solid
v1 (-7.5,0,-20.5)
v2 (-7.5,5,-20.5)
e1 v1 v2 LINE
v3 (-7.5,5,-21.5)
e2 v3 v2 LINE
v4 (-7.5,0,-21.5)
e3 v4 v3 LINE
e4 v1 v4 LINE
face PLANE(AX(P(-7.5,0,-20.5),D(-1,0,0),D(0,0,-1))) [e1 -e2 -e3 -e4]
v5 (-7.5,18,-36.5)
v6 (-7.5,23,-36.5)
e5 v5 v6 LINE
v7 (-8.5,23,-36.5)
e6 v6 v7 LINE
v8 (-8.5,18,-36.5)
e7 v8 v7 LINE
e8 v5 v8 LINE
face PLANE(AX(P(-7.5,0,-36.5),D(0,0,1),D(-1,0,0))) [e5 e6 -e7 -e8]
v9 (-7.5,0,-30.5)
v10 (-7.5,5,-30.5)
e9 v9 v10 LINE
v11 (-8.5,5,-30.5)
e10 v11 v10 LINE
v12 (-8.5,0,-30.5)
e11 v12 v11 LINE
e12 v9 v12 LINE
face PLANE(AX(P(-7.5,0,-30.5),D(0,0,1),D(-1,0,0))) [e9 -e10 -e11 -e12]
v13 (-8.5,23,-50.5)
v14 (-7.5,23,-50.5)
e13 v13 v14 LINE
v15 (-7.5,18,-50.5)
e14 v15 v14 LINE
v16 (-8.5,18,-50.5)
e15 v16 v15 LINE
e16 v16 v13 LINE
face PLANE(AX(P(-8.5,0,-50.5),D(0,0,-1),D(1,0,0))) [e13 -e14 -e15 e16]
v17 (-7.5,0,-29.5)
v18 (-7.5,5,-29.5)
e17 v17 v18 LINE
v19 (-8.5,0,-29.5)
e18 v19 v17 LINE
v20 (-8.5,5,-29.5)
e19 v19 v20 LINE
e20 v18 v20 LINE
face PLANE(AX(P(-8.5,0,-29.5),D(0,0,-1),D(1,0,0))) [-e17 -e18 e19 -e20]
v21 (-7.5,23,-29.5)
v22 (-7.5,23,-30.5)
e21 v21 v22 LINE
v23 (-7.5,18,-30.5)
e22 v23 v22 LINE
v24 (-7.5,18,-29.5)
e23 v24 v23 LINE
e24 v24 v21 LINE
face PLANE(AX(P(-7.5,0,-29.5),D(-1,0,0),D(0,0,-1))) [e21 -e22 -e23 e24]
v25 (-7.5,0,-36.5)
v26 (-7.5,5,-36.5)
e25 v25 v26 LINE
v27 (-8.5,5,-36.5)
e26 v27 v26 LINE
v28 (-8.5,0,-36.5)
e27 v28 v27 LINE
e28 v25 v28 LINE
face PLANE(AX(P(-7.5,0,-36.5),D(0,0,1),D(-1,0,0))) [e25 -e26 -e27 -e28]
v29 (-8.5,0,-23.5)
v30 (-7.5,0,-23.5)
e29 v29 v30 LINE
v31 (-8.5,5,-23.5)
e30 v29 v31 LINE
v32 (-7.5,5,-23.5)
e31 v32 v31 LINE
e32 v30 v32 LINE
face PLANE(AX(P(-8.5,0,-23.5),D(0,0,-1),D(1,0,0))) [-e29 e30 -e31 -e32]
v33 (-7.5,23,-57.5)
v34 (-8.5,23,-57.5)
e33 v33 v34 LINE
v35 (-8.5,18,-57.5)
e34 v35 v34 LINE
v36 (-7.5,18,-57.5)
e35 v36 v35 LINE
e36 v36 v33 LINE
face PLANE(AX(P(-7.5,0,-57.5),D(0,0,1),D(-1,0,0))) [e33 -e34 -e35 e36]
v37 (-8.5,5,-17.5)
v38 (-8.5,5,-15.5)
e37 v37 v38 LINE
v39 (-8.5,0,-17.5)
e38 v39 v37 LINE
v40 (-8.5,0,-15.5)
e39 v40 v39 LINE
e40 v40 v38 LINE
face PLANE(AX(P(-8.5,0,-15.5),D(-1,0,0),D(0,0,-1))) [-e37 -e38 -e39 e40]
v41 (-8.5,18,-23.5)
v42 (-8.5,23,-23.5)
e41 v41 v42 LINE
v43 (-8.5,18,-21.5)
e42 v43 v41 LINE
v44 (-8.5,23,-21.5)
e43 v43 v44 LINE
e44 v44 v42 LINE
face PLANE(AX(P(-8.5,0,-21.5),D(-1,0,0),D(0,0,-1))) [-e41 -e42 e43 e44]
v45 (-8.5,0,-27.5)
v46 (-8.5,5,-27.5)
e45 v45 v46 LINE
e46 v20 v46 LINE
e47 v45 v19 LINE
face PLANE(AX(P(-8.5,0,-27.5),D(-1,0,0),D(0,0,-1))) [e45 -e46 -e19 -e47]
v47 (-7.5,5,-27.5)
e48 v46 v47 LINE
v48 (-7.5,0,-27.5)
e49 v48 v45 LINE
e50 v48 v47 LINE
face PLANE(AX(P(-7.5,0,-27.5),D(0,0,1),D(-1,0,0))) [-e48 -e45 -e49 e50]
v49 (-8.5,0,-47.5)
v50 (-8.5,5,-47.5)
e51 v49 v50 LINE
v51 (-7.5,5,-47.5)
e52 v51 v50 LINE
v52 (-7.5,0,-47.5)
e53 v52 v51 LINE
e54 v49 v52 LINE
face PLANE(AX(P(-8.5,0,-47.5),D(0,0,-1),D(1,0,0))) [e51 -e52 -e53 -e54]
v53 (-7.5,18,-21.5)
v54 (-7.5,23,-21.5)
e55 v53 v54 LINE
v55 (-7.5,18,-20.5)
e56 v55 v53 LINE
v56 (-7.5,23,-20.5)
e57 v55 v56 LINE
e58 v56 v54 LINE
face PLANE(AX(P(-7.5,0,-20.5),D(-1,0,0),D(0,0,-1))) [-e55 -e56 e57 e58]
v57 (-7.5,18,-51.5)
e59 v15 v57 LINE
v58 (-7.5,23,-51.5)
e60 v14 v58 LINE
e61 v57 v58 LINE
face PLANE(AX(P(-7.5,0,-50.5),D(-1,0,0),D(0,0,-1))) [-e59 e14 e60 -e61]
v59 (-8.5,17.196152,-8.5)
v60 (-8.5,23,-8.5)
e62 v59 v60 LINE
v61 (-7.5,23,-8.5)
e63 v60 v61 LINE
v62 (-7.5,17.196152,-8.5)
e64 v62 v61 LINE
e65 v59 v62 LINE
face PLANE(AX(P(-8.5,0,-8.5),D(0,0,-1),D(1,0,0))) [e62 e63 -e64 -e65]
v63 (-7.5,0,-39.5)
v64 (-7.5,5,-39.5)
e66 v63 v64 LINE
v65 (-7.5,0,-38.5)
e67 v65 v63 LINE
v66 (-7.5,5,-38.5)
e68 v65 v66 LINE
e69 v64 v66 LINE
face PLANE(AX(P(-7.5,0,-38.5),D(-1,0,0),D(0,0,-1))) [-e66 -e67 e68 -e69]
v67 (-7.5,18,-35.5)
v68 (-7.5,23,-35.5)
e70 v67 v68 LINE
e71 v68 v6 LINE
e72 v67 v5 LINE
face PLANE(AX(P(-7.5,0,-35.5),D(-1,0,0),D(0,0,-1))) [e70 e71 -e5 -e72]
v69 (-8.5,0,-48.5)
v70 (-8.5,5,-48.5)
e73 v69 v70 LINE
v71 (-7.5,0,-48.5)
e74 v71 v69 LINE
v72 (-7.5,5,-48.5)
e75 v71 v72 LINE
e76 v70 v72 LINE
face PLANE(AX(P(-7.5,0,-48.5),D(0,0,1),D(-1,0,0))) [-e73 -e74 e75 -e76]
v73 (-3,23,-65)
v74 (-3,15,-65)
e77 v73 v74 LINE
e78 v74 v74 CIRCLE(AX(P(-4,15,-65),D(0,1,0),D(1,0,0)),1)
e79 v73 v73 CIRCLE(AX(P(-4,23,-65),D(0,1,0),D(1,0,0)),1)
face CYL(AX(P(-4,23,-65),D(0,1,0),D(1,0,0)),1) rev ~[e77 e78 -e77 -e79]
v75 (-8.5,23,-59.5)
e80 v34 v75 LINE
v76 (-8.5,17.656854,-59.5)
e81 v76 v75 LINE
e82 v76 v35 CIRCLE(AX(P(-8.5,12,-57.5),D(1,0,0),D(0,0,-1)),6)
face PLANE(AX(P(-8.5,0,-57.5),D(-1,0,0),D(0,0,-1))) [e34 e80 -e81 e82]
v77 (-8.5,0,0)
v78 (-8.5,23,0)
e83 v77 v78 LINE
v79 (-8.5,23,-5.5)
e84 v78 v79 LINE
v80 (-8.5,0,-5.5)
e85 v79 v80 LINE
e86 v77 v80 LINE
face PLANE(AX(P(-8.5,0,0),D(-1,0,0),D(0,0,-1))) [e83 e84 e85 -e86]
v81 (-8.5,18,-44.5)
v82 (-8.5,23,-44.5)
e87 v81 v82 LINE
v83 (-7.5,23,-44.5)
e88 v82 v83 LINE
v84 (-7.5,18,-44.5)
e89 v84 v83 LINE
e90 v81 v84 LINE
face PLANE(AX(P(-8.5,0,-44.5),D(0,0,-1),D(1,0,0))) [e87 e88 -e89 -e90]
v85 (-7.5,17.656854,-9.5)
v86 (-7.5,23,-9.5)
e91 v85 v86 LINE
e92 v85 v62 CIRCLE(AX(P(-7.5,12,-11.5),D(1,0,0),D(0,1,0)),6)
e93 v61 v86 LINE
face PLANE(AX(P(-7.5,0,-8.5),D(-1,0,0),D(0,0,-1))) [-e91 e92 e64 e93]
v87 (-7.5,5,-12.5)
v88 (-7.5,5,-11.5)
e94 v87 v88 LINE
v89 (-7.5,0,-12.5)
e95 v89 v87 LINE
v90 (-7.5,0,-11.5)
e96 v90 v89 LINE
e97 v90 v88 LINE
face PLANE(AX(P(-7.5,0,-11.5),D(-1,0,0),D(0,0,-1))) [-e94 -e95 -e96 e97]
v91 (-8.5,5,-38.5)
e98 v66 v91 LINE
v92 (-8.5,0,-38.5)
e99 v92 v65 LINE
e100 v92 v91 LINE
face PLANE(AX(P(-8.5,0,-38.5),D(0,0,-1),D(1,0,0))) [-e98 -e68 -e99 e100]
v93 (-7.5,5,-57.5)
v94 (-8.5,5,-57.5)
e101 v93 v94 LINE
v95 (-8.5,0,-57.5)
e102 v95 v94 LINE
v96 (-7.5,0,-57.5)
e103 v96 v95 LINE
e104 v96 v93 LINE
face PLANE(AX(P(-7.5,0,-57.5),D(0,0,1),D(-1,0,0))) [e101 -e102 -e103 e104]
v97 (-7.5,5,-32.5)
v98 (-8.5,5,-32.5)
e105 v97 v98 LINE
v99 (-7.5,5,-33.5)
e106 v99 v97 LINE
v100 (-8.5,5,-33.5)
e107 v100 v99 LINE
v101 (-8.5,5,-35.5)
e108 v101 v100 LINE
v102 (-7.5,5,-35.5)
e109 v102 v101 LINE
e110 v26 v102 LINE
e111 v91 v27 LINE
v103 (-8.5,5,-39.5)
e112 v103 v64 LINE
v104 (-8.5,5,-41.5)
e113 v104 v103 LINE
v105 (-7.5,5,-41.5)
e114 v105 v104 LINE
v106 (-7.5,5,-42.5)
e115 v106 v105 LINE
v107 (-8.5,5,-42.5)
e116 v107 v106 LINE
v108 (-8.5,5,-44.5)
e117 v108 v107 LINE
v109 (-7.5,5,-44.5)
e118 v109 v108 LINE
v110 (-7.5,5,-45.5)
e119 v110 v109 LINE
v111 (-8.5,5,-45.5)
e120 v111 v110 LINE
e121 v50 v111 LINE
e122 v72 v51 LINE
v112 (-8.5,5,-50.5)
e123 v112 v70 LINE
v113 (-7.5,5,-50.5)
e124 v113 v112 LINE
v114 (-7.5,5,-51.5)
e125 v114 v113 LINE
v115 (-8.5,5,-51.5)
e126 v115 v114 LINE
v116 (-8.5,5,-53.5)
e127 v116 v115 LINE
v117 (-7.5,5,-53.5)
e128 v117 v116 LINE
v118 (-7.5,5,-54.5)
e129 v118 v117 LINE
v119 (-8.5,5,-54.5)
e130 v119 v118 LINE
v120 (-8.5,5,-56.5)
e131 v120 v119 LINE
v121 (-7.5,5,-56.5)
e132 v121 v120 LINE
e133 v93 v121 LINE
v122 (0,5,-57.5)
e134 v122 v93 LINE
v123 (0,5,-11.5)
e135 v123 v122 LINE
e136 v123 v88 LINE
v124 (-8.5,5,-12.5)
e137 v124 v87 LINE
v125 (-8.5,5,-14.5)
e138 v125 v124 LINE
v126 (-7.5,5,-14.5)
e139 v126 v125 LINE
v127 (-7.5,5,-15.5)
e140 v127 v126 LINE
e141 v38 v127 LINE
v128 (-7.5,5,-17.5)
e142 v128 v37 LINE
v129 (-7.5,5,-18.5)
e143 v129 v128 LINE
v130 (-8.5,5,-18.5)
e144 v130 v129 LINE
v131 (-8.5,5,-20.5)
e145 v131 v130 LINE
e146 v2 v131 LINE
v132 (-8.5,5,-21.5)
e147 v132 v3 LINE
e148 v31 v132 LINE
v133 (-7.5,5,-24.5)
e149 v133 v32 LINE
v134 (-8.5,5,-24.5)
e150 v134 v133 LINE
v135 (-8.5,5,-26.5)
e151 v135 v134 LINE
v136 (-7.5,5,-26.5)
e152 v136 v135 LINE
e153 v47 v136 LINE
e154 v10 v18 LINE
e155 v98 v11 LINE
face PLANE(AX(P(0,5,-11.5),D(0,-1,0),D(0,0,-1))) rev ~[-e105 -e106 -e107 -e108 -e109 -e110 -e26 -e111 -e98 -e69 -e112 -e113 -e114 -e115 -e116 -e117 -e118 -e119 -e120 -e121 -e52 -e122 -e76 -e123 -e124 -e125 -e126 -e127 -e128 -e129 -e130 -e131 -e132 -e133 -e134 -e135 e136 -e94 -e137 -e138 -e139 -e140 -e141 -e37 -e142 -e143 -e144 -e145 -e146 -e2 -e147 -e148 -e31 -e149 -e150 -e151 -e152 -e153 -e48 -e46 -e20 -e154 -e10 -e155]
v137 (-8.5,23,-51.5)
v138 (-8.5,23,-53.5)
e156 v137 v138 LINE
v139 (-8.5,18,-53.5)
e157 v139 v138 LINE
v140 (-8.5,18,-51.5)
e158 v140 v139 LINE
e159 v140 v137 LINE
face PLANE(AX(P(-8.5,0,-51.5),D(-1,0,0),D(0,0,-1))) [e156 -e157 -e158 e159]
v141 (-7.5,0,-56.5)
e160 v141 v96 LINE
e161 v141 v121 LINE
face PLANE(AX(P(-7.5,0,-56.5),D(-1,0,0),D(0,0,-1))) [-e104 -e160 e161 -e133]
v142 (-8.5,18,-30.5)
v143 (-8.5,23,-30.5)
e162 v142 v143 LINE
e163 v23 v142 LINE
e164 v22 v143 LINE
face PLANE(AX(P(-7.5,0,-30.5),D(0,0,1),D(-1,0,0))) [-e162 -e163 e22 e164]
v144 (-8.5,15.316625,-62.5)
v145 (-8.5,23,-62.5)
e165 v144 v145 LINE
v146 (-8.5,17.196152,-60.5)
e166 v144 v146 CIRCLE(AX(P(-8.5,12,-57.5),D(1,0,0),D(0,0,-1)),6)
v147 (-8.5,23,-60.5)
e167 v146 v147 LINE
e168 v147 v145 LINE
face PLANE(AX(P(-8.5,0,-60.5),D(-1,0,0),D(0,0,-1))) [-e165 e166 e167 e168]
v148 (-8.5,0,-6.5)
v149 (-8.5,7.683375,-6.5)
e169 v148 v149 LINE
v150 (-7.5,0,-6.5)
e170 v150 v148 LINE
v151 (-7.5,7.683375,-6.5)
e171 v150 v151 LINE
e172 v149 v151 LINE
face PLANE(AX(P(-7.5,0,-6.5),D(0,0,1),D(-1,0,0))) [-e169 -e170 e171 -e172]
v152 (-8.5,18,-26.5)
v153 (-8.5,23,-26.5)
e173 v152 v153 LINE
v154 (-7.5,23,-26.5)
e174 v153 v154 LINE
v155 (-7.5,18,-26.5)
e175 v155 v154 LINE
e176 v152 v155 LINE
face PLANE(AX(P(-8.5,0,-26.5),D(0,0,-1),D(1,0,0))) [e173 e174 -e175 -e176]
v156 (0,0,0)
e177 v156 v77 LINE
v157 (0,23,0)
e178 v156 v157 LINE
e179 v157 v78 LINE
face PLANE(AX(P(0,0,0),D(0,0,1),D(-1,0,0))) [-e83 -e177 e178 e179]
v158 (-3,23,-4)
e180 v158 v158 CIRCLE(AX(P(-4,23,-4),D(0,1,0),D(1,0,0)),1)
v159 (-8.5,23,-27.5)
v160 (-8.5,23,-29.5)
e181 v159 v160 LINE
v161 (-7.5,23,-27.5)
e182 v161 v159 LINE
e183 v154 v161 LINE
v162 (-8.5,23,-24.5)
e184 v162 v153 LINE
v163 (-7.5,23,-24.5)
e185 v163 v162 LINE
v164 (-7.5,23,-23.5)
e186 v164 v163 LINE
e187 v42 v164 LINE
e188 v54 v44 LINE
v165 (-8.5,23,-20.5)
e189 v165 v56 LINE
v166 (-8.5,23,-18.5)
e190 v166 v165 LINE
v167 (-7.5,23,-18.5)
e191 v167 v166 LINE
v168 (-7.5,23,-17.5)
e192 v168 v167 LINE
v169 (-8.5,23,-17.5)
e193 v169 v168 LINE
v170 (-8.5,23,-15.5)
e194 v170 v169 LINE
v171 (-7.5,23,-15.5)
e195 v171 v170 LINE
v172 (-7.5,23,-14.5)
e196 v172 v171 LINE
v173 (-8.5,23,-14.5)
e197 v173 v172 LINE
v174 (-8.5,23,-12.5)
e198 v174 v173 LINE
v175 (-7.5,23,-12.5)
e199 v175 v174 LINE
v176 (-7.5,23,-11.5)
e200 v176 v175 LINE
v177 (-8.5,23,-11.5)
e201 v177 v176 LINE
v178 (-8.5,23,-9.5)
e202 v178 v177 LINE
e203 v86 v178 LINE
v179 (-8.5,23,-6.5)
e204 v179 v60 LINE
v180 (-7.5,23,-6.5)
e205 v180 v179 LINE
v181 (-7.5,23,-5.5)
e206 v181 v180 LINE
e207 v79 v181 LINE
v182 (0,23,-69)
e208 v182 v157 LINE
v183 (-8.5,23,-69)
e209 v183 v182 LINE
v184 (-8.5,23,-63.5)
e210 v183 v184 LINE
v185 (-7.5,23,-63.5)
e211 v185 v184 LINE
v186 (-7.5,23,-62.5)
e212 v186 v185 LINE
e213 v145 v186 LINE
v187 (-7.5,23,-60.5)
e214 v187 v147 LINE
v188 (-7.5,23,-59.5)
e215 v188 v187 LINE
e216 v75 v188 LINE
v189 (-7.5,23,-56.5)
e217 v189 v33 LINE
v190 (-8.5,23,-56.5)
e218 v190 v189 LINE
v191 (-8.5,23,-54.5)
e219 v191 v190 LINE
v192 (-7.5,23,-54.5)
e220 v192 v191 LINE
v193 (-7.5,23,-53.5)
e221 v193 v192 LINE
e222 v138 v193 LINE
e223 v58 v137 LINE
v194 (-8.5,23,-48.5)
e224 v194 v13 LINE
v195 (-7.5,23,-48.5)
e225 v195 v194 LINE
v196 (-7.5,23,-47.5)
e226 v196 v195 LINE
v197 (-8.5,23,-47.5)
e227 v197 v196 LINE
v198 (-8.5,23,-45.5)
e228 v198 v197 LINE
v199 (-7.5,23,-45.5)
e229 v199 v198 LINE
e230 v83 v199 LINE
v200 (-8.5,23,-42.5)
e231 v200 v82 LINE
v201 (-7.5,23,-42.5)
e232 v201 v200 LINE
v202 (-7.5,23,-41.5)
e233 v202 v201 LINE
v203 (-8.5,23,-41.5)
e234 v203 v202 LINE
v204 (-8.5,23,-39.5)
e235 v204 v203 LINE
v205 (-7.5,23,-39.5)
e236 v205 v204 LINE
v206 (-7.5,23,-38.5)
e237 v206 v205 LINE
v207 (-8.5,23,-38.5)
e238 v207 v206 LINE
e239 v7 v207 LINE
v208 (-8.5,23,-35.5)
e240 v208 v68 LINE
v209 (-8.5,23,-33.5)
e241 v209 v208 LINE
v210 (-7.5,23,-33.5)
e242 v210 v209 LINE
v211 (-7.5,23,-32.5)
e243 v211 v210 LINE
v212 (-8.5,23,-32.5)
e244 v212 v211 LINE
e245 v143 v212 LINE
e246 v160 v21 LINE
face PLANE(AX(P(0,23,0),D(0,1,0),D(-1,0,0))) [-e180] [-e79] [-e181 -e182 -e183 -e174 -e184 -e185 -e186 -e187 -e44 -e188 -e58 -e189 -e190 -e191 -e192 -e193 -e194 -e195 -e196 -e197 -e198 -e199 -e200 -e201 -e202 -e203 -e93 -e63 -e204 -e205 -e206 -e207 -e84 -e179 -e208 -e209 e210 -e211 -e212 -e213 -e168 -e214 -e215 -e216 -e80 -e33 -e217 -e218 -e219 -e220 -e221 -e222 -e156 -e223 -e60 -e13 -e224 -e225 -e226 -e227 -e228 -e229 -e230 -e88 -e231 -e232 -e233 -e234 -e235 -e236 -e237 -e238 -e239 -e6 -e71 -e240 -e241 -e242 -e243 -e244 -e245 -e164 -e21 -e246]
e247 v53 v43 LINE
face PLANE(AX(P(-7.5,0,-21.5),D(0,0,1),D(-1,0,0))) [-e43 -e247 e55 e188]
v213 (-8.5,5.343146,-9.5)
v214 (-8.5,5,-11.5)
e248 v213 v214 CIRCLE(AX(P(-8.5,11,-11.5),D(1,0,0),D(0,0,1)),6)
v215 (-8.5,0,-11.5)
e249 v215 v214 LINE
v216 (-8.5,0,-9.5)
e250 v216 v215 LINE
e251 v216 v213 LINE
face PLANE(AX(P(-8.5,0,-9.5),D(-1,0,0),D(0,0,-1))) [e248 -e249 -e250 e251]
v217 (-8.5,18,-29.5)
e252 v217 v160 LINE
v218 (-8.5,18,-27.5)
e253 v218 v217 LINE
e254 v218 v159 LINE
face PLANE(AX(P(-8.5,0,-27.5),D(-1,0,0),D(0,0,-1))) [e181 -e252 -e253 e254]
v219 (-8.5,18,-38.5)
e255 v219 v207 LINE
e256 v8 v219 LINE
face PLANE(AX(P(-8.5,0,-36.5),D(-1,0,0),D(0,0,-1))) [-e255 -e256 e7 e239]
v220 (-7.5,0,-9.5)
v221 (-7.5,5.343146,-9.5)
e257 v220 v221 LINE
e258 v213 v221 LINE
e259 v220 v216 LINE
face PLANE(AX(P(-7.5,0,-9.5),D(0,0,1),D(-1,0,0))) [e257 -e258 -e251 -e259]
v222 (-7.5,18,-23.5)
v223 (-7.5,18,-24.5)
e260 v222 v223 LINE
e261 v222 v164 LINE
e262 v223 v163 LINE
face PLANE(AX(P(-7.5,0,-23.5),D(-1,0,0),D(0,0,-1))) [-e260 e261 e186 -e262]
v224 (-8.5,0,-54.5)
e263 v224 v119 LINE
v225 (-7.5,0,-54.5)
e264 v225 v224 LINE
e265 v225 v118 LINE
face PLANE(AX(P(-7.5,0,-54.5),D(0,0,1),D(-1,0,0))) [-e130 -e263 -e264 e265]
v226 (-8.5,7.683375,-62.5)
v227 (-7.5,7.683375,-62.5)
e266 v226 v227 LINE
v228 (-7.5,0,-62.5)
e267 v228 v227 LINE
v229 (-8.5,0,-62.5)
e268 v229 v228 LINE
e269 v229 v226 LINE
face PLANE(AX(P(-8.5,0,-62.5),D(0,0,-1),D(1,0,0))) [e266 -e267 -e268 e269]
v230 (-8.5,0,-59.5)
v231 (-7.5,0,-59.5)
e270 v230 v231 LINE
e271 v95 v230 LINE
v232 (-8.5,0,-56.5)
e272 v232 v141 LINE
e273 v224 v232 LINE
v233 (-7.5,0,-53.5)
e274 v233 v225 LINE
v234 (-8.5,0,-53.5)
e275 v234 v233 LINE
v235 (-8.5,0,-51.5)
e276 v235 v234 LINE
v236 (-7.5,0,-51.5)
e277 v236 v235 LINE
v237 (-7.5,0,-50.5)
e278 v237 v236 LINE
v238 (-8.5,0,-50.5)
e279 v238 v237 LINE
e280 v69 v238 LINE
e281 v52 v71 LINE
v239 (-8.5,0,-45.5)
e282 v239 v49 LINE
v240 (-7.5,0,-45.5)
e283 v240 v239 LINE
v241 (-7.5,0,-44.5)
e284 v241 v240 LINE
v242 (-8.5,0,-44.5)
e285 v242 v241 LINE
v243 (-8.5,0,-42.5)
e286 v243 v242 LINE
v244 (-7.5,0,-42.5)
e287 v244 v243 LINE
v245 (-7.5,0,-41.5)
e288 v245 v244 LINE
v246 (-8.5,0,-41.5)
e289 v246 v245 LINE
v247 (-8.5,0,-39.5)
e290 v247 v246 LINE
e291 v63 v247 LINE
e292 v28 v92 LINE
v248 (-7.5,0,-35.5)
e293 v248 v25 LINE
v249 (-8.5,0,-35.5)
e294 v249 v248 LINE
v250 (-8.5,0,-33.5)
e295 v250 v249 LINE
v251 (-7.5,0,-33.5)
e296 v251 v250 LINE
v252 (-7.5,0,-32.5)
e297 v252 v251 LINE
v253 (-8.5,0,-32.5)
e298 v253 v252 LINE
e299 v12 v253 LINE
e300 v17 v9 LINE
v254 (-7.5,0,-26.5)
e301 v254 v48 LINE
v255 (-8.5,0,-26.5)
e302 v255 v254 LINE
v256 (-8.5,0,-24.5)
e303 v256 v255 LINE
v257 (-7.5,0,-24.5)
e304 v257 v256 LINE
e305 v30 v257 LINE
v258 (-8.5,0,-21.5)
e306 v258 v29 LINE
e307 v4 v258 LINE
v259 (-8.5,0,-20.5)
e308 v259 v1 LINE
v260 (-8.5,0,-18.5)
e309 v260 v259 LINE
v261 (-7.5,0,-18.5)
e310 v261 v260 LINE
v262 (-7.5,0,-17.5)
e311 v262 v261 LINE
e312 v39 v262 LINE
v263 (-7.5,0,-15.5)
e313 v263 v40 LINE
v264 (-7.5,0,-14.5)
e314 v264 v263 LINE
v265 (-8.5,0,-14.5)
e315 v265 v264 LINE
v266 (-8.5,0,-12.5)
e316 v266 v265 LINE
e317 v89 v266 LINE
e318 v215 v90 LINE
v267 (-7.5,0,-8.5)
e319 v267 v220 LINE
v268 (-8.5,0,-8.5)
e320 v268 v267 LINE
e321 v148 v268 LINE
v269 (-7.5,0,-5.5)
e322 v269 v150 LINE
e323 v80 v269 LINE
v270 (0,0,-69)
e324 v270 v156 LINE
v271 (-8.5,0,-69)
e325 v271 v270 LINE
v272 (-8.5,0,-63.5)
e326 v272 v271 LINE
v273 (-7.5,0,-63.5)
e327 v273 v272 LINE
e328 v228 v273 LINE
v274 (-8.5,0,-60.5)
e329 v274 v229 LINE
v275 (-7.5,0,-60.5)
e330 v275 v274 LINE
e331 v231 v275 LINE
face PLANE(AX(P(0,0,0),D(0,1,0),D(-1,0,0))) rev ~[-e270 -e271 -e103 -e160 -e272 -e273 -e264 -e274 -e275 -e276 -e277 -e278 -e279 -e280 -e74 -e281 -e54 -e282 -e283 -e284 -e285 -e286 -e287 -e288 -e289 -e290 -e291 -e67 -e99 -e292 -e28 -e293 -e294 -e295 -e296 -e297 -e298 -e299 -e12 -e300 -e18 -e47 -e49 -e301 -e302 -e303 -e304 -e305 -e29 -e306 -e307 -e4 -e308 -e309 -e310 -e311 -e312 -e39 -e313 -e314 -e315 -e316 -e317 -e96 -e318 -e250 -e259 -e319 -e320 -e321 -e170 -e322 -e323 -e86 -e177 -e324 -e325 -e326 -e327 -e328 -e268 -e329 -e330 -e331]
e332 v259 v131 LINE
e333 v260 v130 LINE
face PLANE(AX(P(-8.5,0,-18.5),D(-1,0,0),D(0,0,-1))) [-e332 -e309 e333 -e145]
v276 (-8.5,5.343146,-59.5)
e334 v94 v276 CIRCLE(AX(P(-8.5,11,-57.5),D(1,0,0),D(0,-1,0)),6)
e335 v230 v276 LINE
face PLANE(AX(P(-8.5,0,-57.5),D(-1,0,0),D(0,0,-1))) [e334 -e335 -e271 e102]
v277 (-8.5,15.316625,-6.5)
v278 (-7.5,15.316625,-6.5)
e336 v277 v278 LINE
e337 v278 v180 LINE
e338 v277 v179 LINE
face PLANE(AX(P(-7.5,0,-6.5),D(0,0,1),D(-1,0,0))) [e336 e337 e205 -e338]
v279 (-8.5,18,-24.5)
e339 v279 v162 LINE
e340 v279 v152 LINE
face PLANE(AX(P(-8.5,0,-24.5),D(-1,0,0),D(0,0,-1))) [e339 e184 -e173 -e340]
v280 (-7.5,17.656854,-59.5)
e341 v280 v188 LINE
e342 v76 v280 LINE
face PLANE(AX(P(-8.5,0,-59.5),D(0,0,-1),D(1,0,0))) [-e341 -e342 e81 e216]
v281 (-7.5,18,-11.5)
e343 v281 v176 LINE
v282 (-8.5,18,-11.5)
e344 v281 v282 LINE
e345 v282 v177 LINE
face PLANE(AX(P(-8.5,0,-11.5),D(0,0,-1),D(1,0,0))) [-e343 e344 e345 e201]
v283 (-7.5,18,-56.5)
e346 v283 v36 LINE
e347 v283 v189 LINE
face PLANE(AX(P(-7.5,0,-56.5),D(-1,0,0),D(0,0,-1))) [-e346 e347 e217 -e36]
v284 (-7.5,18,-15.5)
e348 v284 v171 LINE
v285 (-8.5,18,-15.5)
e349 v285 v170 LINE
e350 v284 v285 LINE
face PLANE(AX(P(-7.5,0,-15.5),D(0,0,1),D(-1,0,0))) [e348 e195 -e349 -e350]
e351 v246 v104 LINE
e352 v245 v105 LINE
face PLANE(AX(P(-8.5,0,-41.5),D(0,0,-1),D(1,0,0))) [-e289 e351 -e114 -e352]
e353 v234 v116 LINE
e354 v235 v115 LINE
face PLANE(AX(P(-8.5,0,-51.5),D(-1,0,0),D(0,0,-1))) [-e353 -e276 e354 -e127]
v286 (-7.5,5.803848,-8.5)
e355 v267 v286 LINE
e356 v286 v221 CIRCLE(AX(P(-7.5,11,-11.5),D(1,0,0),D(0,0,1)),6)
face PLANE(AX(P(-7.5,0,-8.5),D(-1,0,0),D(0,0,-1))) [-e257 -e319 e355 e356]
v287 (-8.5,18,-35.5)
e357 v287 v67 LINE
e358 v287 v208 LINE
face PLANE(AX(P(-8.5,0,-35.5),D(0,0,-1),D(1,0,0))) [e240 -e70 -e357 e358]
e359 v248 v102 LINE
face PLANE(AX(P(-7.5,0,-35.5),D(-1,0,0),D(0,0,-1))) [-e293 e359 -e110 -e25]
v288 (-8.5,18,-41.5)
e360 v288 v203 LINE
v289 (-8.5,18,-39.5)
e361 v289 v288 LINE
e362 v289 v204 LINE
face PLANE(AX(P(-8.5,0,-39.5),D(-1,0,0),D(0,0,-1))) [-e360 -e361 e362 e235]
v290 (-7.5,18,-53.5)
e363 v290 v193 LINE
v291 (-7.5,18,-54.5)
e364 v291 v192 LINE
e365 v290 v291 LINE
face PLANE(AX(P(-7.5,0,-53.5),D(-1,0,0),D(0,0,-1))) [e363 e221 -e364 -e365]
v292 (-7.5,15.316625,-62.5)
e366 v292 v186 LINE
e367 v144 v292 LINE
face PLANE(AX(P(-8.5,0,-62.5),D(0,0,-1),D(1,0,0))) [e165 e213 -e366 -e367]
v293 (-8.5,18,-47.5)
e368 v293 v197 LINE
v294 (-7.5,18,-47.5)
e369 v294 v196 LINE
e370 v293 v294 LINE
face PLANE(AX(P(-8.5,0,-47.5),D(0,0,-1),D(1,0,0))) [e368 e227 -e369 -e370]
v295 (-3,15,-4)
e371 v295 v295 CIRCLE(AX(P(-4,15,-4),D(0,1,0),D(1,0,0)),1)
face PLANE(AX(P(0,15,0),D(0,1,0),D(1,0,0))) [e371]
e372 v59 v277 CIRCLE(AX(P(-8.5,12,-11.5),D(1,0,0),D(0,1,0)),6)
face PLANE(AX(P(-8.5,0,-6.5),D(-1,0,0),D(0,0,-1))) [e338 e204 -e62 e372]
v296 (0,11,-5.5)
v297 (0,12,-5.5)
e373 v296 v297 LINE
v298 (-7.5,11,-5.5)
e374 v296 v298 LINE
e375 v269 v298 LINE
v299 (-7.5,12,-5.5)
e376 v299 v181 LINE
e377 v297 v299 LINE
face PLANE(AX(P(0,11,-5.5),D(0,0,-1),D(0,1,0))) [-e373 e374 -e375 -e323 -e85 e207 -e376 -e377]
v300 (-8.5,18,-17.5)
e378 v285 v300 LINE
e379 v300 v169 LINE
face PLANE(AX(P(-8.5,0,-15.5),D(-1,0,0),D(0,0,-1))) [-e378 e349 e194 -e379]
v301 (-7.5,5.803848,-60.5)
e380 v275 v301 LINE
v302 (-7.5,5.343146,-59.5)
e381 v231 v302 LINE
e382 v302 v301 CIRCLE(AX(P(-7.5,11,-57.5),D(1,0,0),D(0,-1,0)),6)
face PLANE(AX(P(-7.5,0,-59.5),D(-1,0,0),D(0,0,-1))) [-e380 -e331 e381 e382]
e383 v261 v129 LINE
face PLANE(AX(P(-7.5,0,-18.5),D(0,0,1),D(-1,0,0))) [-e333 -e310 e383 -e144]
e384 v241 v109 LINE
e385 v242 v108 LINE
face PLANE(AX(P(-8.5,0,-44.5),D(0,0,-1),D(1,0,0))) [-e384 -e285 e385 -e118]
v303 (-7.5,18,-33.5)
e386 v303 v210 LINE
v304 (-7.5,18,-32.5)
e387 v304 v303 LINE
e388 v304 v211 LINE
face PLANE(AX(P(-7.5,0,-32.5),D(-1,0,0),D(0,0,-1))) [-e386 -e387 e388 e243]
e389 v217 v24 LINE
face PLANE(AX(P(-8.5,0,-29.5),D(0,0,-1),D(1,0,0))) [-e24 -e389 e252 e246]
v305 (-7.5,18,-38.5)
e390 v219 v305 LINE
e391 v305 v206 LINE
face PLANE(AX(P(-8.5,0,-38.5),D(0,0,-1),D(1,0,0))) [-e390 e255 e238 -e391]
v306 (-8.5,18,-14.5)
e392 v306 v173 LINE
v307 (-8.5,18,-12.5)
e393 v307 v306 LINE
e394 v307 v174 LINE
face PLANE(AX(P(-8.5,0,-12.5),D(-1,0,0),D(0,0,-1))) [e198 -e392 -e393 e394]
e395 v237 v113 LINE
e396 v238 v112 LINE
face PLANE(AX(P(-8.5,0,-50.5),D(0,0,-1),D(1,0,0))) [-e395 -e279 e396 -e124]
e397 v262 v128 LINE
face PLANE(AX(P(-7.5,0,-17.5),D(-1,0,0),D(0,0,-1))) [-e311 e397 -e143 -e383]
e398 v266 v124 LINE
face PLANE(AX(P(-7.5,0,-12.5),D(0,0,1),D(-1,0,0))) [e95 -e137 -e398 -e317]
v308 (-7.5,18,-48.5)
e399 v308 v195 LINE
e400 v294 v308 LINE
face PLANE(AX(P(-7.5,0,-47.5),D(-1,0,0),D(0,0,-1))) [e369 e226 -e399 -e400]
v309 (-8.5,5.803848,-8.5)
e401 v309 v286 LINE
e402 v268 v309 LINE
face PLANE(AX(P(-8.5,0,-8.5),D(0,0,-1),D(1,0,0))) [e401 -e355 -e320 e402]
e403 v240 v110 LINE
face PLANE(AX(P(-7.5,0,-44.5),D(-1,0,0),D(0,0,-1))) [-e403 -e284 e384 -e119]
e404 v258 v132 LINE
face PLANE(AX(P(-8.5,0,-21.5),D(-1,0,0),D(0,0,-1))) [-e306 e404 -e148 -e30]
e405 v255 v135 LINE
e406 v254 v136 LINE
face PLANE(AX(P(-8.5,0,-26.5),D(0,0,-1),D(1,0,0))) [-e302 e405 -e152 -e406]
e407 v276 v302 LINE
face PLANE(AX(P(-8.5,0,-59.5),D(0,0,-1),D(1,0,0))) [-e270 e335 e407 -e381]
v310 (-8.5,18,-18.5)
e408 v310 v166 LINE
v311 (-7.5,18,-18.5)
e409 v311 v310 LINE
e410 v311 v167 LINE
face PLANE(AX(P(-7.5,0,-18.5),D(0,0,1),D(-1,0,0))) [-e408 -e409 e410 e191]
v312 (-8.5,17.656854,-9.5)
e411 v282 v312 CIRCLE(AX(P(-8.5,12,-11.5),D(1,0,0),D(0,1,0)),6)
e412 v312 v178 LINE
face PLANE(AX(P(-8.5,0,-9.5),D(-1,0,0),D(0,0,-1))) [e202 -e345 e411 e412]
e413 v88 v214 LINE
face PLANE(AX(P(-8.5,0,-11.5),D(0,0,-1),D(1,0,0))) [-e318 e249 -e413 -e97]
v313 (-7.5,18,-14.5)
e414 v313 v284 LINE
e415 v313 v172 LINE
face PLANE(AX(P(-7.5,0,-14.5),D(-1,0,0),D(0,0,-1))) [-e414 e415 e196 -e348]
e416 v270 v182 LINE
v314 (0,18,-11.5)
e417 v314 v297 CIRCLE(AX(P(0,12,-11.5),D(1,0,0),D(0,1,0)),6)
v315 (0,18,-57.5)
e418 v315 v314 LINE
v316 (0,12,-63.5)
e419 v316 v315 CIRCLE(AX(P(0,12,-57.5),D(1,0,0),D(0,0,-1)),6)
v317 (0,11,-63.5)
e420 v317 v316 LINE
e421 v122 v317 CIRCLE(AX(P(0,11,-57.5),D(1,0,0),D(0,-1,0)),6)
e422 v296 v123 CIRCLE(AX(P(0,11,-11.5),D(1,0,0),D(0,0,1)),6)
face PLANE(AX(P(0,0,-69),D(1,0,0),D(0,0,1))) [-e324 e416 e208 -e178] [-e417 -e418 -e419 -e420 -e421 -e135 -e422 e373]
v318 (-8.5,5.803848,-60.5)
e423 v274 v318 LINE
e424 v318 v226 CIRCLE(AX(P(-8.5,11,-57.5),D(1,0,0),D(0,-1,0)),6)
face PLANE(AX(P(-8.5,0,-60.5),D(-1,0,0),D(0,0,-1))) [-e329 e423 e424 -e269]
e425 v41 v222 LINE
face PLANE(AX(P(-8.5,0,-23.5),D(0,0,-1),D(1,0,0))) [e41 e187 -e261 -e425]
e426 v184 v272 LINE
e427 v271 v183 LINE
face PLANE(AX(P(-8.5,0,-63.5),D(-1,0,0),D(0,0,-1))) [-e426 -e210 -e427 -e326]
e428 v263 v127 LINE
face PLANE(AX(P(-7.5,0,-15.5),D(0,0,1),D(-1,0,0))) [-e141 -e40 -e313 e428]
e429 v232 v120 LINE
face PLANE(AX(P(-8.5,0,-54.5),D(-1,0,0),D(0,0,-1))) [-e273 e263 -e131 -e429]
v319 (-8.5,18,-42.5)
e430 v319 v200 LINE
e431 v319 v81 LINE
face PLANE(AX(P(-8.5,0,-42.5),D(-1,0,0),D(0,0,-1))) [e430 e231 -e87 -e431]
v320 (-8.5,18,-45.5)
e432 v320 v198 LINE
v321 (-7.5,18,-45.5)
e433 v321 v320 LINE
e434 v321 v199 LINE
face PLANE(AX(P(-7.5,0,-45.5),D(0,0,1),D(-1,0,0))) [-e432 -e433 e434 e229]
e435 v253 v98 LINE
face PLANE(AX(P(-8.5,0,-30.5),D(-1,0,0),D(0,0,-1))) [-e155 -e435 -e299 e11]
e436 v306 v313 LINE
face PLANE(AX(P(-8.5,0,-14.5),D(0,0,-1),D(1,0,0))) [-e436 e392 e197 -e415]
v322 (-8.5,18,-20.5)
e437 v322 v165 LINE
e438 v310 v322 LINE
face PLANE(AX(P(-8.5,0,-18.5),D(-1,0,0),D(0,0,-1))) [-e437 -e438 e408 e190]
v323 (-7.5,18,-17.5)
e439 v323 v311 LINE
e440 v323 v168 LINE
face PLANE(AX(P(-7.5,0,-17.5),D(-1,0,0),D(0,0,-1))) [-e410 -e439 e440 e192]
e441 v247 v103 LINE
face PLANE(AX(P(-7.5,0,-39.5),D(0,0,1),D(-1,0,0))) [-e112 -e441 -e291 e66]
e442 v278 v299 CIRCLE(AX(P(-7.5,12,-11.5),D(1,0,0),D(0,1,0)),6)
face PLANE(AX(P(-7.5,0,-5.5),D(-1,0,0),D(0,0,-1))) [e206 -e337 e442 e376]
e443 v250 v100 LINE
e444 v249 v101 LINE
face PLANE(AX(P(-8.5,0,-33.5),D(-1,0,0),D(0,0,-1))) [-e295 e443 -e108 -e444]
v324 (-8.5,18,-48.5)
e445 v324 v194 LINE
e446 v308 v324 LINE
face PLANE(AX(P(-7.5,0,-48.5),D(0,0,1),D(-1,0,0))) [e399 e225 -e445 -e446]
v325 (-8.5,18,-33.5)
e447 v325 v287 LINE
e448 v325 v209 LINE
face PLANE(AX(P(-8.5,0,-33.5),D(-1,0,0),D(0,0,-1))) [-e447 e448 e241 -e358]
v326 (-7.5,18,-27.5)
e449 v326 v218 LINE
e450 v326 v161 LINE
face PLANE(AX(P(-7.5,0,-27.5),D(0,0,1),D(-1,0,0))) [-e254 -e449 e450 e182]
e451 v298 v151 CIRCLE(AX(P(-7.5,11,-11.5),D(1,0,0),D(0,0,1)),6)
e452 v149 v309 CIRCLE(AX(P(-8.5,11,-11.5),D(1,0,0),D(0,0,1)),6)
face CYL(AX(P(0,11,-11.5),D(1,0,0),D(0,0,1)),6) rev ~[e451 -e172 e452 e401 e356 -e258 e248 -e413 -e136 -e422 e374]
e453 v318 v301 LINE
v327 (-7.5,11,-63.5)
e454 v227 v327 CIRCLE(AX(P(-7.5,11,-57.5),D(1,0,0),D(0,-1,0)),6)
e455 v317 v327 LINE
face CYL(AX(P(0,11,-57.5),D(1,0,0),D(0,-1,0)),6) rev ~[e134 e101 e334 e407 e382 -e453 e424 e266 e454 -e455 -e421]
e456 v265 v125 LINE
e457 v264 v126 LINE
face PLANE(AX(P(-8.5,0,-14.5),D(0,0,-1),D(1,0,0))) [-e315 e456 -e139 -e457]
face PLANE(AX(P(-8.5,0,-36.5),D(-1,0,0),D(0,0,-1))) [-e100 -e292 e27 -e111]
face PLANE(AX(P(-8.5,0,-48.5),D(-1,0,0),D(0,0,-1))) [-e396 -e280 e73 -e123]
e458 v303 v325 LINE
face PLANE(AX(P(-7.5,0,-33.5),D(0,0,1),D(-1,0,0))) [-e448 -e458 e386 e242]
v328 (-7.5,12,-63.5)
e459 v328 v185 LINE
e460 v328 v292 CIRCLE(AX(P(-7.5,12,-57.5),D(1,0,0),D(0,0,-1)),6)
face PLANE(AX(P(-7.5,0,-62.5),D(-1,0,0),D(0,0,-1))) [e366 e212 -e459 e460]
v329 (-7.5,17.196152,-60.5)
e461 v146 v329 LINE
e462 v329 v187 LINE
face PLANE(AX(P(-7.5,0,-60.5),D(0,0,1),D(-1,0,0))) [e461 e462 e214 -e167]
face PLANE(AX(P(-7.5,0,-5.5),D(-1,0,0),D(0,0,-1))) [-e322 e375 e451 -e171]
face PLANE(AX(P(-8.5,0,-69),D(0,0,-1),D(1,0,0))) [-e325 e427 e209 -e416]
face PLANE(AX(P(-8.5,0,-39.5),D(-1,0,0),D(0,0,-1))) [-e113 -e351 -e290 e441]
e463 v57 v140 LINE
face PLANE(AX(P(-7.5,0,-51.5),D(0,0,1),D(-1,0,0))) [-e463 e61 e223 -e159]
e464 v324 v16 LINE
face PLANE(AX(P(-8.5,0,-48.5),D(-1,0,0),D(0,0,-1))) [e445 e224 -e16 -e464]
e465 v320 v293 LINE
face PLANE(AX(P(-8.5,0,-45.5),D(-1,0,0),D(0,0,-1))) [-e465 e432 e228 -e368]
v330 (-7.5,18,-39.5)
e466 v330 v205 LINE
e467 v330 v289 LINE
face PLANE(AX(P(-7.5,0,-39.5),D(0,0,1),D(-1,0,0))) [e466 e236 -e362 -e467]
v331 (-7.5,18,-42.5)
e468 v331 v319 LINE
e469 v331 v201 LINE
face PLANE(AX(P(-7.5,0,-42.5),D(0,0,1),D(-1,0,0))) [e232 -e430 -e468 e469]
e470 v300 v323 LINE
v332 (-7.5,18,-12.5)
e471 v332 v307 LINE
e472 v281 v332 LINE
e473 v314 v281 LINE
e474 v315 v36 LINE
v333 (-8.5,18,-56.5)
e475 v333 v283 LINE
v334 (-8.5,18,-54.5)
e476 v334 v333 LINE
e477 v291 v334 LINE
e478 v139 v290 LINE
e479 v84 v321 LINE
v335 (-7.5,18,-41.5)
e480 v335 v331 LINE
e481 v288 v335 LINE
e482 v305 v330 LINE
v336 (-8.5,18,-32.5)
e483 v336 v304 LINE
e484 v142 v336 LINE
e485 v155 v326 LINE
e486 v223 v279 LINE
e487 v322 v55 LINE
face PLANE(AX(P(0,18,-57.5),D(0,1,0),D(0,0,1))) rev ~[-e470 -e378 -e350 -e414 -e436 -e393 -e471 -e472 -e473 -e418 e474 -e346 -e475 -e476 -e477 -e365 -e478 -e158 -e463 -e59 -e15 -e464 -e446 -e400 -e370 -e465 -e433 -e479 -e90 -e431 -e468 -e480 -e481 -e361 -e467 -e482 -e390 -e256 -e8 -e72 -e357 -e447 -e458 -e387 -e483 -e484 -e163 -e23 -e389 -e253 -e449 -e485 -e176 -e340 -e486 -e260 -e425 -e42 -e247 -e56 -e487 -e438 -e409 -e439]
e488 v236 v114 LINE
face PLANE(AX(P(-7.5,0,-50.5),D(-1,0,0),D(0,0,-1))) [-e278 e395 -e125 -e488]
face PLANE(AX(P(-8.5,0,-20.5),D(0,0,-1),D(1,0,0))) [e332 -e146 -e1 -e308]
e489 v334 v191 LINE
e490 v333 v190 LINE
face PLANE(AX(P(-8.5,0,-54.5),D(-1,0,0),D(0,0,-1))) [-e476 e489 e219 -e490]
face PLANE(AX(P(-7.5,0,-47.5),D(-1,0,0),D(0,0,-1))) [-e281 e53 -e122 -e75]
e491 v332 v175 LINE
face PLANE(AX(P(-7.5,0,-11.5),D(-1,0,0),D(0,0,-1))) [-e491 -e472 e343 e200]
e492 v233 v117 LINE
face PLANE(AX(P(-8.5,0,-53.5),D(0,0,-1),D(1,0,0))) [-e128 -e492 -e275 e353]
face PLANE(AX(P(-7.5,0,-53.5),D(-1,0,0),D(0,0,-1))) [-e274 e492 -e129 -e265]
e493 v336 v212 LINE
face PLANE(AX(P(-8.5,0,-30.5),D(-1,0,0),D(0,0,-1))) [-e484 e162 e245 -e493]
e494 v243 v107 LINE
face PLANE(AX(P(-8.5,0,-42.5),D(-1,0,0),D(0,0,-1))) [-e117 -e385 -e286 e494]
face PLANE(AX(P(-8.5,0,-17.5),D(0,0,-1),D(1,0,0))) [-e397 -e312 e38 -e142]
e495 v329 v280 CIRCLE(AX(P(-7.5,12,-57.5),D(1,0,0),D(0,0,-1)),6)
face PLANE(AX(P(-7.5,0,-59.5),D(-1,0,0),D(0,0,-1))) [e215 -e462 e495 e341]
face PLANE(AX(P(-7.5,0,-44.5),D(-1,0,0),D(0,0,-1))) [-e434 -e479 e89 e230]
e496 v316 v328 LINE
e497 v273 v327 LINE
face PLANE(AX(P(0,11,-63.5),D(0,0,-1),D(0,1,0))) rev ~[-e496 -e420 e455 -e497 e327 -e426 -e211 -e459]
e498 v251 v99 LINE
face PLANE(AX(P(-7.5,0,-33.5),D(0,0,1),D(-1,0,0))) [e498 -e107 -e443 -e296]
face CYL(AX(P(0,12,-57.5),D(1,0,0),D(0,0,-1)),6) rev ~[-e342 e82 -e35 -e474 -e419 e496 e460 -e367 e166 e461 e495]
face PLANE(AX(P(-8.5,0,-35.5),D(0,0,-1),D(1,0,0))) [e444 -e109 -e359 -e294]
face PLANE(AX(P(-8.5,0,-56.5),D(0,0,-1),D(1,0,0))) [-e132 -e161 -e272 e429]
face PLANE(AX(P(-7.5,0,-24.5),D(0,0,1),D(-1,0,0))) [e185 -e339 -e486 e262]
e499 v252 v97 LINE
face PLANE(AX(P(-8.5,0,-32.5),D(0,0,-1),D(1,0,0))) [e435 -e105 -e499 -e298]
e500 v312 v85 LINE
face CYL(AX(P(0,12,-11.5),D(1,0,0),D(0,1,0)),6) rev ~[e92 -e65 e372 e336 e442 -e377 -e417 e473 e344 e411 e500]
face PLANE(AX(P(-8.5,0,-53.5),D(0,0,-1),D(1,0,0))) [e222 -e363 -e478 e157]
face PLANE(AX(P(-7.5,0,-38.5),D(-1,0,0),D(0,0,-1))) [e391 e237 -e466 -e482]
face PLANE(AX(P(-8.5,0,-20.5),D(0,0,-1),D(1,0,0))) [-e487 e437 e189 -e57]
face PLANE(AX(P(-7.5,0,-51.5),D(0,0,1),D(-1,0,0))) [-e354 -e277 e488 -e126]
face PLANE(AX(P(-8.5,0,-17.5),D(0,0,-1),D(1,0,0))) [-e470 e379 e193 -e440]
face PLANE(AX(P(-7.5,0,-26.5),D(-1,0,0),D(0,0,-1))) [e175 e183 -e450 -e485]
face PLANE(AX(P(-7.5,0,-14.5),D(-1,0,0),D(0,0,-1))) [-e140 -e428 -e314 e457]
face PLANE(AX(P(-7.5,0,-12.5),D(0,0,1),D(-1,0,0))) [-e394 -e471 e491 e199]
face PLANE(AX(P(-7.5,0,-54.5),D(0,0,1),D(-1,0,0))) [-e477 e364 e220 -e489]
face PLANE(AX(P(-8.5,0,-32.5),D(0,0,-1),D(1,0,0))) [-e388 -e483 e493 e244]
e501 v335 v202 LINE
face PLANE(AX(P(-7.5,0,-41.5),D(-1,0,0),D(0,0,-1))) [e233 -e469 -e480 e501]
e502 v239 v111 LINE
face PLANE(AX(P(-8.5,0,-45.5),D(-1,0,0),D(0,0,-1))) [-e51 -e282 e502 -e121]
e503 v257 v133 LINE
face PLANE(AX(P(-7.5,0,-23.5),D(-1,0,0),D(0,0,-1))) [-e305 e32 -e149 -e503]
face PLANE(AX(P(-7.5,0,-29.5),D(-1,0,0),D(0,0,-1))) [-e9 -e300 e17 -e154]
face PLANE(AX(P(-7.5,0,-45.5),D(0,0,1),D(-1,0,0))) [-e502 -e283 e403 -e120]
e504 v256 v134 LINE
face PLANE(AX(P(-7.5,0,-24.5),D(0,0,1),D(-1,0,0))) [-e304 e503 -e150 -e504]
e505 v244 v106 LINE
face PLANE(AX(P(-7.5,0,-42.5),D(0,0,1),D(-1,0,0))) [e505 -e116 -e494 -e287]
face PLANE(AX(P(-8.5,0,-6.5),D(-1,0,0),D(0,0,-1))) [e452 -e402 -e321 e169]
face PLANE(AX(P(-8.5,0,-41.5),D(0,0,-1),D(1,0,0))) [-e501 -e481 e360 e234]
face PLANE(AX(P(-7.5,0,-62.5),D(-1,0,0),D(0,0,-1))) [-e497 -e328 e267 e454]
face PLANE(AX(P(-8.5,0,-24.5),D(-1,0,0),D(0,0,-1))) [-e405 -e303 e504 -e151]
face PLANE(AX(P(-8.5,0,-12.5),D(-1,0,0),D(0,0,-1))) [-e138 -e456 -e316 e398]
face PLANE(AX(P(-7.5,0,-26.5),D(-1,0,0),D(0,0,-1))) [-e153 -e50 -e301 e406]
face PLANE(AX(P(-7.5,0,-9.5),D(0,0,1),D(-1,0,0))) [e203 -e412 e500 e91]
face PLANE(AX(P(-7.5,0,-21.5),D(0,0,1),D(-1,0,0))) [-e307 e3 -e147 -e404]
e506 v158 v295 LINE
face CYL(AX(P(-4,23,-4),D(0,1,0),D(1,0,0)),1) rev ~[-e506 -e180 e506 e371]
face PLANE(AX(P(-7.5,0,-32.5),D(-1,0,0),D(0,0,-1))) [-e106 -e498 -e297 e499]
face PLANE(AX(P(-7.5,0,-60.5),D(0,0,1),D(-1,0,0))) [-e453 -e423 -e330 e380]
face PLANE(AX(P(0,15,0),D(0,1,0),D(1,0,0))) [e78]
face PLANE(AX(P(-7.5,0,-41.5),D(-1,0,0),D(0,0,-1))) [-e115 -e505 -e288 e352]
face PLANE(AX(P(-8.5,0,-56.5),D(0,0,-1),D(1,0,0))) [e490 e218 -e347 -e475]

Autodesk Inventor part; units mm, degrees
ref_plane "YZ Plane" through (0, 0, 0) normal (1, 0, 0) x (0, 1, 0)
ref_plane "XZ Plane" through (0, 0, 0) normal (0, 1, 0) x (-1, 0, 0)
ref_plane "XY Plane" through (0, 0, 0) normal (0, 0, 1) x (1, 0, 0)
sketch "Sketch1" plane through (0, 0, 0) normal (0, 1, 0) x (-1, 0, 0)
  line L0 (0, 0) -> (8.5, 0)
  line L1 (8.5, -69) -> (0, -69)
  line L2 (0, -69) -> (0, 0)
  line L3 (8.5, 0) -> (8.5, -5.5)
  line L4 (8.5, -69) -> (8.5, -65.5)
  line L5 (8.5, -5.5) -> (7.5, -5.5)
  line L6 (7.5, -5.5) -> (7.5, -6.5)
  line L7 (7.5, -6.5) -> (8.5, -6.5)
  line L8 (8.5, -6.5) -> (8.5, -8.5)
  line L9 (8.5, -8.5) -> (7.5, -8.5)
  line L10 (7.5, -8.5) -> (7.5, -9.5)
  line L11 (7.5, -9.5) -> (8.5, -9.5)
  line L12 (8.5, -9.5) -> (8.5, -11.5)
  line L13 (8.5, -11.5) -> (7.5, -11.5)
  line L14 (7.5, -11.5) -> (7.5, -12.5)
  line L15 (7.5, -12.5) -> (8.5, -12.5)
  line L16 (8.5, -12.5) -> (8.5, -14.5)
  line L17 (8.5, -14.5) -> (7.5, -14.5)
  line L18 (7.5, -14.5) -> (7.5, -15.5)
  line L19 (7.5, -15.5) -> (8.5, -15.5)
  line L20 (8.5, -15.5) -> (8.5, -17.5)
  line L21 (8.5, -17.5) -> (7.5, -17.5)
  line L22 (7.5, -17.5) -> (7.5, -18.5)
  line L23 (7.5, -18.5) -> (8.5, -18.5)
  line L24 (8.5, -18.5) -> (8.5, -20.5)
  line L25 (8.5, -20.5) -> (7.5, -20.5)
  line L26 (7.5, -20.5) -> (7.5, -21.5)
  line L27 (7.5, -21.5) -> (8.5, -21.5)
  line L28 (8.5, -21.5) -> (8.5, -23.5)
  line L29 (8.5, -23.5) -> (7.5, -23.5)
  line L30 (7.5, -23.5) -> (7.5, -24.5)
  line L31 (7.5, -24.5) -> (8.5, -24.5)
  line L32 (8.5, -24.5) -> (8.5, -26.5)
  line L33 (8.5, -26.5) -> (7.5, -26.5)
  line L34 (7.5, -26.5) -> (7.5, -27.5)
  line L35 (7.5, -27.5) -> (8.5, -27.5)
  line L36 (8.5, -27.5) -> (8.5, -29.5)
  line L37 (8.5, -29.5) -> (7.5, -29.5)
  line L38 (7.5, -29.5) -> (7.5, -30.5)
  line L39 (7.5, -30.5) -> (8.5, -30.5)
  line L40 (8.5, -30.5) -> (8.5, -32.5)
  line L41 (8.5, -32.5) -> (7.5, -32.5)
  line L42 (7.5, -32.5) -> (7.5, -33.5)
  line L43 (7.5, -33.5) -> (8.5, -33.5)
  line L44 (8.5, -33.5) -> (8.5, -35.5)
  line L45 (8.5, -35.5) -> (7.5, -35.5)
  line L46 (7.5, -35.5) -> (7.5, -36.5)
  line L47 (7.5, -36.5) -> (8.5, -36.5)
  line L48 (8.5, -36.5) -> (8.5, -38.5)
  line L49 (8.5, -38.5) -> (7.5, -38.5)
  line L50 (7.5, -38.5) -> (7.5, -39.5)
  line L51 (7.5, -39.5) -> (8.5, -39.5)
  line L52 (8.5, -39.5) -> (8.5, -41.5)
  line L53 (8.5, -41.5) -> (7.5, -41.5)
  line L54 (7.5, -41.5) -> (7.5, -42.5)
  line L55 (7.5, -42.5) -> (8.5, -42.5)
  line L56 (8.5, -42.5) -> (8.5, -44.5)
  line L57 (8.5, -44.5) -> (7.5, -44.5)
  line L58 (7.5, -44.5) -> (7.5, -45.5)
  line L59 (7.5, -45.5) -> (8.5, -45.5)
  line L60 (8.5, -45.5) -> (8.5, -47.5)
  line L61 (8.5, -47.5) -> (7.5, -47.5)
  line L62 (7.5, -47.5) -> (7.5, -48.5)
  line L63 (7.5, -48.5) -> (8.5, -48.5)
  line L64 (8.5, -48.5) -> (8.5, -50.5)
  line L65 (8.5, -50.5) -> (7.5, -50.5)
  line L66 (7.5, -50.5) -> (7.5, -51.5)
  line L67 (7.5, -51.5) -> (8.5, -51.5)
  line L68 (8.5, -51.5) -> (8.5, -53.5)
  line L69 (8.5, -53.5) -> (7.5, -53.5)
  line L70 (7.5, -53.5) -> (7.5, -54.5)
  line L71 (7.5, -54.5) -> (8.5, -54.5)
  line L72 (8.5, -54.5) -> (8.5, -56.5)
  line L73 (8.5, -56.5) -> (7.5, -56.5)
  line L74 (7.5, -56.5) -> (7.5, -57.5)
  line L75 (7.5, -57.5) -> (8.5, -57.5)
  line L76 (8.5, -57.5) -> (8.5, -59.5)
  line L77 (8.5, -59.5) -> (7.5, -59.5)
  line L78 (7.5, -59.5) -> (7.5, -60.5)
  line L79 (7.5, -60.5) -> (8.5, -60.5)
  line L80 (8.5, -60.5) -> (8.5, -62.5)
  line L81 (8.5, -62.5) -> (7.5, -62.5)
  line L82 (7.5, -62.5) -> (7.5, -63.5)
  line L83 (7.5, -63.5) -> (8.5, -63.5)
  line L84 (8.5, -63.5) -> (8.5, -65.5)
  dimension "d0" = 8.5
  dimension "d1" = 69
  dimension "d2" = 1
  dimension "d3" = 2
  dimension "d6" = 3
  dimension "d11" = 5.5
extrude "Extrusion1" add sketch "Sketch1" along normal blind 23
sketch "Sketch2" plane through (0, 0, 0) normal (1, 0, 0) x (0, 0, -1)
  line L0 (5.5, 0) -> (5.5, 23) projected
  line L1 (63.5, 0) -> (63.5, 23) projected
  line L2 (11.5, 5) -> (57.5, 5)
  line L3 (63.5, 11) -> (63.5, 12)
  line L4 (57.5, 18) -> (11.5, 18)
  line L5 (5.5, 12) -> (5.5, 11)
  line L6 (0, 23) -> (69, 23) projected
  line L7 (0, 0) -> (69, 0) projected
  arc A0 (11.5, 18) -> (5.5, 12) centre (11.5, 12) ccw
  arc A1 (5.5, 11) -> (11.5, 5) centre (11.5, 11) ccw
  arc A2 (57.5, 5) -> (63.5, 11) centre (57.5, 11) ccw
  arc A3 (63.5, 12) -> (57.5, 18) centre (57.5, 12) ccw
  point P0 (5.5, 5)
  point P1 (63.5, 18)
  dimension "d14" = 5
  dimension "d15" = 5
  dimension "d16" = 6
extrude "Extrusion2" cut sketch "Sketch2" against normal blind 10 contours L0 A0 L4 A3 L1 A2 L2 A1
sketch "Sketch3" plane through (0, 23, 0) normal (0, 1, 0) x (1, 0, 0)
  circle A0 centre (-4, 4) radius 1
  circle A1 centre (-4, 65) radius 1
  line L0 (-8.5, 0) -> (0, 0) construction
  line L1 (-4, 0) -> (-4, 4) construction
  line L2 (-4, 4) -> (0, 4) construction
  line L3 (0, 0) -> (0, 69) construction
  line L4 (-4, 65) -> (0, 65) construction
  line L5 (-4, 65) -> (-4, 69) construction
  line L6 (0, 69) -> (-8.5, 69) construction
  dimension "d19" = 2
  dimension "d20" = 4
extrude "Extrusion3" cut sketch "Sketch3" against normal blind 8
thread "Thread1" size "M2x0.4" class "6H" standard "ANSI Metric M Profile" full length
thread "Thread2" size "4-40 UNC" class "2B" standard "ANSI Unified Screw Threads" full length
properties part number "RectangularHolderWall"
